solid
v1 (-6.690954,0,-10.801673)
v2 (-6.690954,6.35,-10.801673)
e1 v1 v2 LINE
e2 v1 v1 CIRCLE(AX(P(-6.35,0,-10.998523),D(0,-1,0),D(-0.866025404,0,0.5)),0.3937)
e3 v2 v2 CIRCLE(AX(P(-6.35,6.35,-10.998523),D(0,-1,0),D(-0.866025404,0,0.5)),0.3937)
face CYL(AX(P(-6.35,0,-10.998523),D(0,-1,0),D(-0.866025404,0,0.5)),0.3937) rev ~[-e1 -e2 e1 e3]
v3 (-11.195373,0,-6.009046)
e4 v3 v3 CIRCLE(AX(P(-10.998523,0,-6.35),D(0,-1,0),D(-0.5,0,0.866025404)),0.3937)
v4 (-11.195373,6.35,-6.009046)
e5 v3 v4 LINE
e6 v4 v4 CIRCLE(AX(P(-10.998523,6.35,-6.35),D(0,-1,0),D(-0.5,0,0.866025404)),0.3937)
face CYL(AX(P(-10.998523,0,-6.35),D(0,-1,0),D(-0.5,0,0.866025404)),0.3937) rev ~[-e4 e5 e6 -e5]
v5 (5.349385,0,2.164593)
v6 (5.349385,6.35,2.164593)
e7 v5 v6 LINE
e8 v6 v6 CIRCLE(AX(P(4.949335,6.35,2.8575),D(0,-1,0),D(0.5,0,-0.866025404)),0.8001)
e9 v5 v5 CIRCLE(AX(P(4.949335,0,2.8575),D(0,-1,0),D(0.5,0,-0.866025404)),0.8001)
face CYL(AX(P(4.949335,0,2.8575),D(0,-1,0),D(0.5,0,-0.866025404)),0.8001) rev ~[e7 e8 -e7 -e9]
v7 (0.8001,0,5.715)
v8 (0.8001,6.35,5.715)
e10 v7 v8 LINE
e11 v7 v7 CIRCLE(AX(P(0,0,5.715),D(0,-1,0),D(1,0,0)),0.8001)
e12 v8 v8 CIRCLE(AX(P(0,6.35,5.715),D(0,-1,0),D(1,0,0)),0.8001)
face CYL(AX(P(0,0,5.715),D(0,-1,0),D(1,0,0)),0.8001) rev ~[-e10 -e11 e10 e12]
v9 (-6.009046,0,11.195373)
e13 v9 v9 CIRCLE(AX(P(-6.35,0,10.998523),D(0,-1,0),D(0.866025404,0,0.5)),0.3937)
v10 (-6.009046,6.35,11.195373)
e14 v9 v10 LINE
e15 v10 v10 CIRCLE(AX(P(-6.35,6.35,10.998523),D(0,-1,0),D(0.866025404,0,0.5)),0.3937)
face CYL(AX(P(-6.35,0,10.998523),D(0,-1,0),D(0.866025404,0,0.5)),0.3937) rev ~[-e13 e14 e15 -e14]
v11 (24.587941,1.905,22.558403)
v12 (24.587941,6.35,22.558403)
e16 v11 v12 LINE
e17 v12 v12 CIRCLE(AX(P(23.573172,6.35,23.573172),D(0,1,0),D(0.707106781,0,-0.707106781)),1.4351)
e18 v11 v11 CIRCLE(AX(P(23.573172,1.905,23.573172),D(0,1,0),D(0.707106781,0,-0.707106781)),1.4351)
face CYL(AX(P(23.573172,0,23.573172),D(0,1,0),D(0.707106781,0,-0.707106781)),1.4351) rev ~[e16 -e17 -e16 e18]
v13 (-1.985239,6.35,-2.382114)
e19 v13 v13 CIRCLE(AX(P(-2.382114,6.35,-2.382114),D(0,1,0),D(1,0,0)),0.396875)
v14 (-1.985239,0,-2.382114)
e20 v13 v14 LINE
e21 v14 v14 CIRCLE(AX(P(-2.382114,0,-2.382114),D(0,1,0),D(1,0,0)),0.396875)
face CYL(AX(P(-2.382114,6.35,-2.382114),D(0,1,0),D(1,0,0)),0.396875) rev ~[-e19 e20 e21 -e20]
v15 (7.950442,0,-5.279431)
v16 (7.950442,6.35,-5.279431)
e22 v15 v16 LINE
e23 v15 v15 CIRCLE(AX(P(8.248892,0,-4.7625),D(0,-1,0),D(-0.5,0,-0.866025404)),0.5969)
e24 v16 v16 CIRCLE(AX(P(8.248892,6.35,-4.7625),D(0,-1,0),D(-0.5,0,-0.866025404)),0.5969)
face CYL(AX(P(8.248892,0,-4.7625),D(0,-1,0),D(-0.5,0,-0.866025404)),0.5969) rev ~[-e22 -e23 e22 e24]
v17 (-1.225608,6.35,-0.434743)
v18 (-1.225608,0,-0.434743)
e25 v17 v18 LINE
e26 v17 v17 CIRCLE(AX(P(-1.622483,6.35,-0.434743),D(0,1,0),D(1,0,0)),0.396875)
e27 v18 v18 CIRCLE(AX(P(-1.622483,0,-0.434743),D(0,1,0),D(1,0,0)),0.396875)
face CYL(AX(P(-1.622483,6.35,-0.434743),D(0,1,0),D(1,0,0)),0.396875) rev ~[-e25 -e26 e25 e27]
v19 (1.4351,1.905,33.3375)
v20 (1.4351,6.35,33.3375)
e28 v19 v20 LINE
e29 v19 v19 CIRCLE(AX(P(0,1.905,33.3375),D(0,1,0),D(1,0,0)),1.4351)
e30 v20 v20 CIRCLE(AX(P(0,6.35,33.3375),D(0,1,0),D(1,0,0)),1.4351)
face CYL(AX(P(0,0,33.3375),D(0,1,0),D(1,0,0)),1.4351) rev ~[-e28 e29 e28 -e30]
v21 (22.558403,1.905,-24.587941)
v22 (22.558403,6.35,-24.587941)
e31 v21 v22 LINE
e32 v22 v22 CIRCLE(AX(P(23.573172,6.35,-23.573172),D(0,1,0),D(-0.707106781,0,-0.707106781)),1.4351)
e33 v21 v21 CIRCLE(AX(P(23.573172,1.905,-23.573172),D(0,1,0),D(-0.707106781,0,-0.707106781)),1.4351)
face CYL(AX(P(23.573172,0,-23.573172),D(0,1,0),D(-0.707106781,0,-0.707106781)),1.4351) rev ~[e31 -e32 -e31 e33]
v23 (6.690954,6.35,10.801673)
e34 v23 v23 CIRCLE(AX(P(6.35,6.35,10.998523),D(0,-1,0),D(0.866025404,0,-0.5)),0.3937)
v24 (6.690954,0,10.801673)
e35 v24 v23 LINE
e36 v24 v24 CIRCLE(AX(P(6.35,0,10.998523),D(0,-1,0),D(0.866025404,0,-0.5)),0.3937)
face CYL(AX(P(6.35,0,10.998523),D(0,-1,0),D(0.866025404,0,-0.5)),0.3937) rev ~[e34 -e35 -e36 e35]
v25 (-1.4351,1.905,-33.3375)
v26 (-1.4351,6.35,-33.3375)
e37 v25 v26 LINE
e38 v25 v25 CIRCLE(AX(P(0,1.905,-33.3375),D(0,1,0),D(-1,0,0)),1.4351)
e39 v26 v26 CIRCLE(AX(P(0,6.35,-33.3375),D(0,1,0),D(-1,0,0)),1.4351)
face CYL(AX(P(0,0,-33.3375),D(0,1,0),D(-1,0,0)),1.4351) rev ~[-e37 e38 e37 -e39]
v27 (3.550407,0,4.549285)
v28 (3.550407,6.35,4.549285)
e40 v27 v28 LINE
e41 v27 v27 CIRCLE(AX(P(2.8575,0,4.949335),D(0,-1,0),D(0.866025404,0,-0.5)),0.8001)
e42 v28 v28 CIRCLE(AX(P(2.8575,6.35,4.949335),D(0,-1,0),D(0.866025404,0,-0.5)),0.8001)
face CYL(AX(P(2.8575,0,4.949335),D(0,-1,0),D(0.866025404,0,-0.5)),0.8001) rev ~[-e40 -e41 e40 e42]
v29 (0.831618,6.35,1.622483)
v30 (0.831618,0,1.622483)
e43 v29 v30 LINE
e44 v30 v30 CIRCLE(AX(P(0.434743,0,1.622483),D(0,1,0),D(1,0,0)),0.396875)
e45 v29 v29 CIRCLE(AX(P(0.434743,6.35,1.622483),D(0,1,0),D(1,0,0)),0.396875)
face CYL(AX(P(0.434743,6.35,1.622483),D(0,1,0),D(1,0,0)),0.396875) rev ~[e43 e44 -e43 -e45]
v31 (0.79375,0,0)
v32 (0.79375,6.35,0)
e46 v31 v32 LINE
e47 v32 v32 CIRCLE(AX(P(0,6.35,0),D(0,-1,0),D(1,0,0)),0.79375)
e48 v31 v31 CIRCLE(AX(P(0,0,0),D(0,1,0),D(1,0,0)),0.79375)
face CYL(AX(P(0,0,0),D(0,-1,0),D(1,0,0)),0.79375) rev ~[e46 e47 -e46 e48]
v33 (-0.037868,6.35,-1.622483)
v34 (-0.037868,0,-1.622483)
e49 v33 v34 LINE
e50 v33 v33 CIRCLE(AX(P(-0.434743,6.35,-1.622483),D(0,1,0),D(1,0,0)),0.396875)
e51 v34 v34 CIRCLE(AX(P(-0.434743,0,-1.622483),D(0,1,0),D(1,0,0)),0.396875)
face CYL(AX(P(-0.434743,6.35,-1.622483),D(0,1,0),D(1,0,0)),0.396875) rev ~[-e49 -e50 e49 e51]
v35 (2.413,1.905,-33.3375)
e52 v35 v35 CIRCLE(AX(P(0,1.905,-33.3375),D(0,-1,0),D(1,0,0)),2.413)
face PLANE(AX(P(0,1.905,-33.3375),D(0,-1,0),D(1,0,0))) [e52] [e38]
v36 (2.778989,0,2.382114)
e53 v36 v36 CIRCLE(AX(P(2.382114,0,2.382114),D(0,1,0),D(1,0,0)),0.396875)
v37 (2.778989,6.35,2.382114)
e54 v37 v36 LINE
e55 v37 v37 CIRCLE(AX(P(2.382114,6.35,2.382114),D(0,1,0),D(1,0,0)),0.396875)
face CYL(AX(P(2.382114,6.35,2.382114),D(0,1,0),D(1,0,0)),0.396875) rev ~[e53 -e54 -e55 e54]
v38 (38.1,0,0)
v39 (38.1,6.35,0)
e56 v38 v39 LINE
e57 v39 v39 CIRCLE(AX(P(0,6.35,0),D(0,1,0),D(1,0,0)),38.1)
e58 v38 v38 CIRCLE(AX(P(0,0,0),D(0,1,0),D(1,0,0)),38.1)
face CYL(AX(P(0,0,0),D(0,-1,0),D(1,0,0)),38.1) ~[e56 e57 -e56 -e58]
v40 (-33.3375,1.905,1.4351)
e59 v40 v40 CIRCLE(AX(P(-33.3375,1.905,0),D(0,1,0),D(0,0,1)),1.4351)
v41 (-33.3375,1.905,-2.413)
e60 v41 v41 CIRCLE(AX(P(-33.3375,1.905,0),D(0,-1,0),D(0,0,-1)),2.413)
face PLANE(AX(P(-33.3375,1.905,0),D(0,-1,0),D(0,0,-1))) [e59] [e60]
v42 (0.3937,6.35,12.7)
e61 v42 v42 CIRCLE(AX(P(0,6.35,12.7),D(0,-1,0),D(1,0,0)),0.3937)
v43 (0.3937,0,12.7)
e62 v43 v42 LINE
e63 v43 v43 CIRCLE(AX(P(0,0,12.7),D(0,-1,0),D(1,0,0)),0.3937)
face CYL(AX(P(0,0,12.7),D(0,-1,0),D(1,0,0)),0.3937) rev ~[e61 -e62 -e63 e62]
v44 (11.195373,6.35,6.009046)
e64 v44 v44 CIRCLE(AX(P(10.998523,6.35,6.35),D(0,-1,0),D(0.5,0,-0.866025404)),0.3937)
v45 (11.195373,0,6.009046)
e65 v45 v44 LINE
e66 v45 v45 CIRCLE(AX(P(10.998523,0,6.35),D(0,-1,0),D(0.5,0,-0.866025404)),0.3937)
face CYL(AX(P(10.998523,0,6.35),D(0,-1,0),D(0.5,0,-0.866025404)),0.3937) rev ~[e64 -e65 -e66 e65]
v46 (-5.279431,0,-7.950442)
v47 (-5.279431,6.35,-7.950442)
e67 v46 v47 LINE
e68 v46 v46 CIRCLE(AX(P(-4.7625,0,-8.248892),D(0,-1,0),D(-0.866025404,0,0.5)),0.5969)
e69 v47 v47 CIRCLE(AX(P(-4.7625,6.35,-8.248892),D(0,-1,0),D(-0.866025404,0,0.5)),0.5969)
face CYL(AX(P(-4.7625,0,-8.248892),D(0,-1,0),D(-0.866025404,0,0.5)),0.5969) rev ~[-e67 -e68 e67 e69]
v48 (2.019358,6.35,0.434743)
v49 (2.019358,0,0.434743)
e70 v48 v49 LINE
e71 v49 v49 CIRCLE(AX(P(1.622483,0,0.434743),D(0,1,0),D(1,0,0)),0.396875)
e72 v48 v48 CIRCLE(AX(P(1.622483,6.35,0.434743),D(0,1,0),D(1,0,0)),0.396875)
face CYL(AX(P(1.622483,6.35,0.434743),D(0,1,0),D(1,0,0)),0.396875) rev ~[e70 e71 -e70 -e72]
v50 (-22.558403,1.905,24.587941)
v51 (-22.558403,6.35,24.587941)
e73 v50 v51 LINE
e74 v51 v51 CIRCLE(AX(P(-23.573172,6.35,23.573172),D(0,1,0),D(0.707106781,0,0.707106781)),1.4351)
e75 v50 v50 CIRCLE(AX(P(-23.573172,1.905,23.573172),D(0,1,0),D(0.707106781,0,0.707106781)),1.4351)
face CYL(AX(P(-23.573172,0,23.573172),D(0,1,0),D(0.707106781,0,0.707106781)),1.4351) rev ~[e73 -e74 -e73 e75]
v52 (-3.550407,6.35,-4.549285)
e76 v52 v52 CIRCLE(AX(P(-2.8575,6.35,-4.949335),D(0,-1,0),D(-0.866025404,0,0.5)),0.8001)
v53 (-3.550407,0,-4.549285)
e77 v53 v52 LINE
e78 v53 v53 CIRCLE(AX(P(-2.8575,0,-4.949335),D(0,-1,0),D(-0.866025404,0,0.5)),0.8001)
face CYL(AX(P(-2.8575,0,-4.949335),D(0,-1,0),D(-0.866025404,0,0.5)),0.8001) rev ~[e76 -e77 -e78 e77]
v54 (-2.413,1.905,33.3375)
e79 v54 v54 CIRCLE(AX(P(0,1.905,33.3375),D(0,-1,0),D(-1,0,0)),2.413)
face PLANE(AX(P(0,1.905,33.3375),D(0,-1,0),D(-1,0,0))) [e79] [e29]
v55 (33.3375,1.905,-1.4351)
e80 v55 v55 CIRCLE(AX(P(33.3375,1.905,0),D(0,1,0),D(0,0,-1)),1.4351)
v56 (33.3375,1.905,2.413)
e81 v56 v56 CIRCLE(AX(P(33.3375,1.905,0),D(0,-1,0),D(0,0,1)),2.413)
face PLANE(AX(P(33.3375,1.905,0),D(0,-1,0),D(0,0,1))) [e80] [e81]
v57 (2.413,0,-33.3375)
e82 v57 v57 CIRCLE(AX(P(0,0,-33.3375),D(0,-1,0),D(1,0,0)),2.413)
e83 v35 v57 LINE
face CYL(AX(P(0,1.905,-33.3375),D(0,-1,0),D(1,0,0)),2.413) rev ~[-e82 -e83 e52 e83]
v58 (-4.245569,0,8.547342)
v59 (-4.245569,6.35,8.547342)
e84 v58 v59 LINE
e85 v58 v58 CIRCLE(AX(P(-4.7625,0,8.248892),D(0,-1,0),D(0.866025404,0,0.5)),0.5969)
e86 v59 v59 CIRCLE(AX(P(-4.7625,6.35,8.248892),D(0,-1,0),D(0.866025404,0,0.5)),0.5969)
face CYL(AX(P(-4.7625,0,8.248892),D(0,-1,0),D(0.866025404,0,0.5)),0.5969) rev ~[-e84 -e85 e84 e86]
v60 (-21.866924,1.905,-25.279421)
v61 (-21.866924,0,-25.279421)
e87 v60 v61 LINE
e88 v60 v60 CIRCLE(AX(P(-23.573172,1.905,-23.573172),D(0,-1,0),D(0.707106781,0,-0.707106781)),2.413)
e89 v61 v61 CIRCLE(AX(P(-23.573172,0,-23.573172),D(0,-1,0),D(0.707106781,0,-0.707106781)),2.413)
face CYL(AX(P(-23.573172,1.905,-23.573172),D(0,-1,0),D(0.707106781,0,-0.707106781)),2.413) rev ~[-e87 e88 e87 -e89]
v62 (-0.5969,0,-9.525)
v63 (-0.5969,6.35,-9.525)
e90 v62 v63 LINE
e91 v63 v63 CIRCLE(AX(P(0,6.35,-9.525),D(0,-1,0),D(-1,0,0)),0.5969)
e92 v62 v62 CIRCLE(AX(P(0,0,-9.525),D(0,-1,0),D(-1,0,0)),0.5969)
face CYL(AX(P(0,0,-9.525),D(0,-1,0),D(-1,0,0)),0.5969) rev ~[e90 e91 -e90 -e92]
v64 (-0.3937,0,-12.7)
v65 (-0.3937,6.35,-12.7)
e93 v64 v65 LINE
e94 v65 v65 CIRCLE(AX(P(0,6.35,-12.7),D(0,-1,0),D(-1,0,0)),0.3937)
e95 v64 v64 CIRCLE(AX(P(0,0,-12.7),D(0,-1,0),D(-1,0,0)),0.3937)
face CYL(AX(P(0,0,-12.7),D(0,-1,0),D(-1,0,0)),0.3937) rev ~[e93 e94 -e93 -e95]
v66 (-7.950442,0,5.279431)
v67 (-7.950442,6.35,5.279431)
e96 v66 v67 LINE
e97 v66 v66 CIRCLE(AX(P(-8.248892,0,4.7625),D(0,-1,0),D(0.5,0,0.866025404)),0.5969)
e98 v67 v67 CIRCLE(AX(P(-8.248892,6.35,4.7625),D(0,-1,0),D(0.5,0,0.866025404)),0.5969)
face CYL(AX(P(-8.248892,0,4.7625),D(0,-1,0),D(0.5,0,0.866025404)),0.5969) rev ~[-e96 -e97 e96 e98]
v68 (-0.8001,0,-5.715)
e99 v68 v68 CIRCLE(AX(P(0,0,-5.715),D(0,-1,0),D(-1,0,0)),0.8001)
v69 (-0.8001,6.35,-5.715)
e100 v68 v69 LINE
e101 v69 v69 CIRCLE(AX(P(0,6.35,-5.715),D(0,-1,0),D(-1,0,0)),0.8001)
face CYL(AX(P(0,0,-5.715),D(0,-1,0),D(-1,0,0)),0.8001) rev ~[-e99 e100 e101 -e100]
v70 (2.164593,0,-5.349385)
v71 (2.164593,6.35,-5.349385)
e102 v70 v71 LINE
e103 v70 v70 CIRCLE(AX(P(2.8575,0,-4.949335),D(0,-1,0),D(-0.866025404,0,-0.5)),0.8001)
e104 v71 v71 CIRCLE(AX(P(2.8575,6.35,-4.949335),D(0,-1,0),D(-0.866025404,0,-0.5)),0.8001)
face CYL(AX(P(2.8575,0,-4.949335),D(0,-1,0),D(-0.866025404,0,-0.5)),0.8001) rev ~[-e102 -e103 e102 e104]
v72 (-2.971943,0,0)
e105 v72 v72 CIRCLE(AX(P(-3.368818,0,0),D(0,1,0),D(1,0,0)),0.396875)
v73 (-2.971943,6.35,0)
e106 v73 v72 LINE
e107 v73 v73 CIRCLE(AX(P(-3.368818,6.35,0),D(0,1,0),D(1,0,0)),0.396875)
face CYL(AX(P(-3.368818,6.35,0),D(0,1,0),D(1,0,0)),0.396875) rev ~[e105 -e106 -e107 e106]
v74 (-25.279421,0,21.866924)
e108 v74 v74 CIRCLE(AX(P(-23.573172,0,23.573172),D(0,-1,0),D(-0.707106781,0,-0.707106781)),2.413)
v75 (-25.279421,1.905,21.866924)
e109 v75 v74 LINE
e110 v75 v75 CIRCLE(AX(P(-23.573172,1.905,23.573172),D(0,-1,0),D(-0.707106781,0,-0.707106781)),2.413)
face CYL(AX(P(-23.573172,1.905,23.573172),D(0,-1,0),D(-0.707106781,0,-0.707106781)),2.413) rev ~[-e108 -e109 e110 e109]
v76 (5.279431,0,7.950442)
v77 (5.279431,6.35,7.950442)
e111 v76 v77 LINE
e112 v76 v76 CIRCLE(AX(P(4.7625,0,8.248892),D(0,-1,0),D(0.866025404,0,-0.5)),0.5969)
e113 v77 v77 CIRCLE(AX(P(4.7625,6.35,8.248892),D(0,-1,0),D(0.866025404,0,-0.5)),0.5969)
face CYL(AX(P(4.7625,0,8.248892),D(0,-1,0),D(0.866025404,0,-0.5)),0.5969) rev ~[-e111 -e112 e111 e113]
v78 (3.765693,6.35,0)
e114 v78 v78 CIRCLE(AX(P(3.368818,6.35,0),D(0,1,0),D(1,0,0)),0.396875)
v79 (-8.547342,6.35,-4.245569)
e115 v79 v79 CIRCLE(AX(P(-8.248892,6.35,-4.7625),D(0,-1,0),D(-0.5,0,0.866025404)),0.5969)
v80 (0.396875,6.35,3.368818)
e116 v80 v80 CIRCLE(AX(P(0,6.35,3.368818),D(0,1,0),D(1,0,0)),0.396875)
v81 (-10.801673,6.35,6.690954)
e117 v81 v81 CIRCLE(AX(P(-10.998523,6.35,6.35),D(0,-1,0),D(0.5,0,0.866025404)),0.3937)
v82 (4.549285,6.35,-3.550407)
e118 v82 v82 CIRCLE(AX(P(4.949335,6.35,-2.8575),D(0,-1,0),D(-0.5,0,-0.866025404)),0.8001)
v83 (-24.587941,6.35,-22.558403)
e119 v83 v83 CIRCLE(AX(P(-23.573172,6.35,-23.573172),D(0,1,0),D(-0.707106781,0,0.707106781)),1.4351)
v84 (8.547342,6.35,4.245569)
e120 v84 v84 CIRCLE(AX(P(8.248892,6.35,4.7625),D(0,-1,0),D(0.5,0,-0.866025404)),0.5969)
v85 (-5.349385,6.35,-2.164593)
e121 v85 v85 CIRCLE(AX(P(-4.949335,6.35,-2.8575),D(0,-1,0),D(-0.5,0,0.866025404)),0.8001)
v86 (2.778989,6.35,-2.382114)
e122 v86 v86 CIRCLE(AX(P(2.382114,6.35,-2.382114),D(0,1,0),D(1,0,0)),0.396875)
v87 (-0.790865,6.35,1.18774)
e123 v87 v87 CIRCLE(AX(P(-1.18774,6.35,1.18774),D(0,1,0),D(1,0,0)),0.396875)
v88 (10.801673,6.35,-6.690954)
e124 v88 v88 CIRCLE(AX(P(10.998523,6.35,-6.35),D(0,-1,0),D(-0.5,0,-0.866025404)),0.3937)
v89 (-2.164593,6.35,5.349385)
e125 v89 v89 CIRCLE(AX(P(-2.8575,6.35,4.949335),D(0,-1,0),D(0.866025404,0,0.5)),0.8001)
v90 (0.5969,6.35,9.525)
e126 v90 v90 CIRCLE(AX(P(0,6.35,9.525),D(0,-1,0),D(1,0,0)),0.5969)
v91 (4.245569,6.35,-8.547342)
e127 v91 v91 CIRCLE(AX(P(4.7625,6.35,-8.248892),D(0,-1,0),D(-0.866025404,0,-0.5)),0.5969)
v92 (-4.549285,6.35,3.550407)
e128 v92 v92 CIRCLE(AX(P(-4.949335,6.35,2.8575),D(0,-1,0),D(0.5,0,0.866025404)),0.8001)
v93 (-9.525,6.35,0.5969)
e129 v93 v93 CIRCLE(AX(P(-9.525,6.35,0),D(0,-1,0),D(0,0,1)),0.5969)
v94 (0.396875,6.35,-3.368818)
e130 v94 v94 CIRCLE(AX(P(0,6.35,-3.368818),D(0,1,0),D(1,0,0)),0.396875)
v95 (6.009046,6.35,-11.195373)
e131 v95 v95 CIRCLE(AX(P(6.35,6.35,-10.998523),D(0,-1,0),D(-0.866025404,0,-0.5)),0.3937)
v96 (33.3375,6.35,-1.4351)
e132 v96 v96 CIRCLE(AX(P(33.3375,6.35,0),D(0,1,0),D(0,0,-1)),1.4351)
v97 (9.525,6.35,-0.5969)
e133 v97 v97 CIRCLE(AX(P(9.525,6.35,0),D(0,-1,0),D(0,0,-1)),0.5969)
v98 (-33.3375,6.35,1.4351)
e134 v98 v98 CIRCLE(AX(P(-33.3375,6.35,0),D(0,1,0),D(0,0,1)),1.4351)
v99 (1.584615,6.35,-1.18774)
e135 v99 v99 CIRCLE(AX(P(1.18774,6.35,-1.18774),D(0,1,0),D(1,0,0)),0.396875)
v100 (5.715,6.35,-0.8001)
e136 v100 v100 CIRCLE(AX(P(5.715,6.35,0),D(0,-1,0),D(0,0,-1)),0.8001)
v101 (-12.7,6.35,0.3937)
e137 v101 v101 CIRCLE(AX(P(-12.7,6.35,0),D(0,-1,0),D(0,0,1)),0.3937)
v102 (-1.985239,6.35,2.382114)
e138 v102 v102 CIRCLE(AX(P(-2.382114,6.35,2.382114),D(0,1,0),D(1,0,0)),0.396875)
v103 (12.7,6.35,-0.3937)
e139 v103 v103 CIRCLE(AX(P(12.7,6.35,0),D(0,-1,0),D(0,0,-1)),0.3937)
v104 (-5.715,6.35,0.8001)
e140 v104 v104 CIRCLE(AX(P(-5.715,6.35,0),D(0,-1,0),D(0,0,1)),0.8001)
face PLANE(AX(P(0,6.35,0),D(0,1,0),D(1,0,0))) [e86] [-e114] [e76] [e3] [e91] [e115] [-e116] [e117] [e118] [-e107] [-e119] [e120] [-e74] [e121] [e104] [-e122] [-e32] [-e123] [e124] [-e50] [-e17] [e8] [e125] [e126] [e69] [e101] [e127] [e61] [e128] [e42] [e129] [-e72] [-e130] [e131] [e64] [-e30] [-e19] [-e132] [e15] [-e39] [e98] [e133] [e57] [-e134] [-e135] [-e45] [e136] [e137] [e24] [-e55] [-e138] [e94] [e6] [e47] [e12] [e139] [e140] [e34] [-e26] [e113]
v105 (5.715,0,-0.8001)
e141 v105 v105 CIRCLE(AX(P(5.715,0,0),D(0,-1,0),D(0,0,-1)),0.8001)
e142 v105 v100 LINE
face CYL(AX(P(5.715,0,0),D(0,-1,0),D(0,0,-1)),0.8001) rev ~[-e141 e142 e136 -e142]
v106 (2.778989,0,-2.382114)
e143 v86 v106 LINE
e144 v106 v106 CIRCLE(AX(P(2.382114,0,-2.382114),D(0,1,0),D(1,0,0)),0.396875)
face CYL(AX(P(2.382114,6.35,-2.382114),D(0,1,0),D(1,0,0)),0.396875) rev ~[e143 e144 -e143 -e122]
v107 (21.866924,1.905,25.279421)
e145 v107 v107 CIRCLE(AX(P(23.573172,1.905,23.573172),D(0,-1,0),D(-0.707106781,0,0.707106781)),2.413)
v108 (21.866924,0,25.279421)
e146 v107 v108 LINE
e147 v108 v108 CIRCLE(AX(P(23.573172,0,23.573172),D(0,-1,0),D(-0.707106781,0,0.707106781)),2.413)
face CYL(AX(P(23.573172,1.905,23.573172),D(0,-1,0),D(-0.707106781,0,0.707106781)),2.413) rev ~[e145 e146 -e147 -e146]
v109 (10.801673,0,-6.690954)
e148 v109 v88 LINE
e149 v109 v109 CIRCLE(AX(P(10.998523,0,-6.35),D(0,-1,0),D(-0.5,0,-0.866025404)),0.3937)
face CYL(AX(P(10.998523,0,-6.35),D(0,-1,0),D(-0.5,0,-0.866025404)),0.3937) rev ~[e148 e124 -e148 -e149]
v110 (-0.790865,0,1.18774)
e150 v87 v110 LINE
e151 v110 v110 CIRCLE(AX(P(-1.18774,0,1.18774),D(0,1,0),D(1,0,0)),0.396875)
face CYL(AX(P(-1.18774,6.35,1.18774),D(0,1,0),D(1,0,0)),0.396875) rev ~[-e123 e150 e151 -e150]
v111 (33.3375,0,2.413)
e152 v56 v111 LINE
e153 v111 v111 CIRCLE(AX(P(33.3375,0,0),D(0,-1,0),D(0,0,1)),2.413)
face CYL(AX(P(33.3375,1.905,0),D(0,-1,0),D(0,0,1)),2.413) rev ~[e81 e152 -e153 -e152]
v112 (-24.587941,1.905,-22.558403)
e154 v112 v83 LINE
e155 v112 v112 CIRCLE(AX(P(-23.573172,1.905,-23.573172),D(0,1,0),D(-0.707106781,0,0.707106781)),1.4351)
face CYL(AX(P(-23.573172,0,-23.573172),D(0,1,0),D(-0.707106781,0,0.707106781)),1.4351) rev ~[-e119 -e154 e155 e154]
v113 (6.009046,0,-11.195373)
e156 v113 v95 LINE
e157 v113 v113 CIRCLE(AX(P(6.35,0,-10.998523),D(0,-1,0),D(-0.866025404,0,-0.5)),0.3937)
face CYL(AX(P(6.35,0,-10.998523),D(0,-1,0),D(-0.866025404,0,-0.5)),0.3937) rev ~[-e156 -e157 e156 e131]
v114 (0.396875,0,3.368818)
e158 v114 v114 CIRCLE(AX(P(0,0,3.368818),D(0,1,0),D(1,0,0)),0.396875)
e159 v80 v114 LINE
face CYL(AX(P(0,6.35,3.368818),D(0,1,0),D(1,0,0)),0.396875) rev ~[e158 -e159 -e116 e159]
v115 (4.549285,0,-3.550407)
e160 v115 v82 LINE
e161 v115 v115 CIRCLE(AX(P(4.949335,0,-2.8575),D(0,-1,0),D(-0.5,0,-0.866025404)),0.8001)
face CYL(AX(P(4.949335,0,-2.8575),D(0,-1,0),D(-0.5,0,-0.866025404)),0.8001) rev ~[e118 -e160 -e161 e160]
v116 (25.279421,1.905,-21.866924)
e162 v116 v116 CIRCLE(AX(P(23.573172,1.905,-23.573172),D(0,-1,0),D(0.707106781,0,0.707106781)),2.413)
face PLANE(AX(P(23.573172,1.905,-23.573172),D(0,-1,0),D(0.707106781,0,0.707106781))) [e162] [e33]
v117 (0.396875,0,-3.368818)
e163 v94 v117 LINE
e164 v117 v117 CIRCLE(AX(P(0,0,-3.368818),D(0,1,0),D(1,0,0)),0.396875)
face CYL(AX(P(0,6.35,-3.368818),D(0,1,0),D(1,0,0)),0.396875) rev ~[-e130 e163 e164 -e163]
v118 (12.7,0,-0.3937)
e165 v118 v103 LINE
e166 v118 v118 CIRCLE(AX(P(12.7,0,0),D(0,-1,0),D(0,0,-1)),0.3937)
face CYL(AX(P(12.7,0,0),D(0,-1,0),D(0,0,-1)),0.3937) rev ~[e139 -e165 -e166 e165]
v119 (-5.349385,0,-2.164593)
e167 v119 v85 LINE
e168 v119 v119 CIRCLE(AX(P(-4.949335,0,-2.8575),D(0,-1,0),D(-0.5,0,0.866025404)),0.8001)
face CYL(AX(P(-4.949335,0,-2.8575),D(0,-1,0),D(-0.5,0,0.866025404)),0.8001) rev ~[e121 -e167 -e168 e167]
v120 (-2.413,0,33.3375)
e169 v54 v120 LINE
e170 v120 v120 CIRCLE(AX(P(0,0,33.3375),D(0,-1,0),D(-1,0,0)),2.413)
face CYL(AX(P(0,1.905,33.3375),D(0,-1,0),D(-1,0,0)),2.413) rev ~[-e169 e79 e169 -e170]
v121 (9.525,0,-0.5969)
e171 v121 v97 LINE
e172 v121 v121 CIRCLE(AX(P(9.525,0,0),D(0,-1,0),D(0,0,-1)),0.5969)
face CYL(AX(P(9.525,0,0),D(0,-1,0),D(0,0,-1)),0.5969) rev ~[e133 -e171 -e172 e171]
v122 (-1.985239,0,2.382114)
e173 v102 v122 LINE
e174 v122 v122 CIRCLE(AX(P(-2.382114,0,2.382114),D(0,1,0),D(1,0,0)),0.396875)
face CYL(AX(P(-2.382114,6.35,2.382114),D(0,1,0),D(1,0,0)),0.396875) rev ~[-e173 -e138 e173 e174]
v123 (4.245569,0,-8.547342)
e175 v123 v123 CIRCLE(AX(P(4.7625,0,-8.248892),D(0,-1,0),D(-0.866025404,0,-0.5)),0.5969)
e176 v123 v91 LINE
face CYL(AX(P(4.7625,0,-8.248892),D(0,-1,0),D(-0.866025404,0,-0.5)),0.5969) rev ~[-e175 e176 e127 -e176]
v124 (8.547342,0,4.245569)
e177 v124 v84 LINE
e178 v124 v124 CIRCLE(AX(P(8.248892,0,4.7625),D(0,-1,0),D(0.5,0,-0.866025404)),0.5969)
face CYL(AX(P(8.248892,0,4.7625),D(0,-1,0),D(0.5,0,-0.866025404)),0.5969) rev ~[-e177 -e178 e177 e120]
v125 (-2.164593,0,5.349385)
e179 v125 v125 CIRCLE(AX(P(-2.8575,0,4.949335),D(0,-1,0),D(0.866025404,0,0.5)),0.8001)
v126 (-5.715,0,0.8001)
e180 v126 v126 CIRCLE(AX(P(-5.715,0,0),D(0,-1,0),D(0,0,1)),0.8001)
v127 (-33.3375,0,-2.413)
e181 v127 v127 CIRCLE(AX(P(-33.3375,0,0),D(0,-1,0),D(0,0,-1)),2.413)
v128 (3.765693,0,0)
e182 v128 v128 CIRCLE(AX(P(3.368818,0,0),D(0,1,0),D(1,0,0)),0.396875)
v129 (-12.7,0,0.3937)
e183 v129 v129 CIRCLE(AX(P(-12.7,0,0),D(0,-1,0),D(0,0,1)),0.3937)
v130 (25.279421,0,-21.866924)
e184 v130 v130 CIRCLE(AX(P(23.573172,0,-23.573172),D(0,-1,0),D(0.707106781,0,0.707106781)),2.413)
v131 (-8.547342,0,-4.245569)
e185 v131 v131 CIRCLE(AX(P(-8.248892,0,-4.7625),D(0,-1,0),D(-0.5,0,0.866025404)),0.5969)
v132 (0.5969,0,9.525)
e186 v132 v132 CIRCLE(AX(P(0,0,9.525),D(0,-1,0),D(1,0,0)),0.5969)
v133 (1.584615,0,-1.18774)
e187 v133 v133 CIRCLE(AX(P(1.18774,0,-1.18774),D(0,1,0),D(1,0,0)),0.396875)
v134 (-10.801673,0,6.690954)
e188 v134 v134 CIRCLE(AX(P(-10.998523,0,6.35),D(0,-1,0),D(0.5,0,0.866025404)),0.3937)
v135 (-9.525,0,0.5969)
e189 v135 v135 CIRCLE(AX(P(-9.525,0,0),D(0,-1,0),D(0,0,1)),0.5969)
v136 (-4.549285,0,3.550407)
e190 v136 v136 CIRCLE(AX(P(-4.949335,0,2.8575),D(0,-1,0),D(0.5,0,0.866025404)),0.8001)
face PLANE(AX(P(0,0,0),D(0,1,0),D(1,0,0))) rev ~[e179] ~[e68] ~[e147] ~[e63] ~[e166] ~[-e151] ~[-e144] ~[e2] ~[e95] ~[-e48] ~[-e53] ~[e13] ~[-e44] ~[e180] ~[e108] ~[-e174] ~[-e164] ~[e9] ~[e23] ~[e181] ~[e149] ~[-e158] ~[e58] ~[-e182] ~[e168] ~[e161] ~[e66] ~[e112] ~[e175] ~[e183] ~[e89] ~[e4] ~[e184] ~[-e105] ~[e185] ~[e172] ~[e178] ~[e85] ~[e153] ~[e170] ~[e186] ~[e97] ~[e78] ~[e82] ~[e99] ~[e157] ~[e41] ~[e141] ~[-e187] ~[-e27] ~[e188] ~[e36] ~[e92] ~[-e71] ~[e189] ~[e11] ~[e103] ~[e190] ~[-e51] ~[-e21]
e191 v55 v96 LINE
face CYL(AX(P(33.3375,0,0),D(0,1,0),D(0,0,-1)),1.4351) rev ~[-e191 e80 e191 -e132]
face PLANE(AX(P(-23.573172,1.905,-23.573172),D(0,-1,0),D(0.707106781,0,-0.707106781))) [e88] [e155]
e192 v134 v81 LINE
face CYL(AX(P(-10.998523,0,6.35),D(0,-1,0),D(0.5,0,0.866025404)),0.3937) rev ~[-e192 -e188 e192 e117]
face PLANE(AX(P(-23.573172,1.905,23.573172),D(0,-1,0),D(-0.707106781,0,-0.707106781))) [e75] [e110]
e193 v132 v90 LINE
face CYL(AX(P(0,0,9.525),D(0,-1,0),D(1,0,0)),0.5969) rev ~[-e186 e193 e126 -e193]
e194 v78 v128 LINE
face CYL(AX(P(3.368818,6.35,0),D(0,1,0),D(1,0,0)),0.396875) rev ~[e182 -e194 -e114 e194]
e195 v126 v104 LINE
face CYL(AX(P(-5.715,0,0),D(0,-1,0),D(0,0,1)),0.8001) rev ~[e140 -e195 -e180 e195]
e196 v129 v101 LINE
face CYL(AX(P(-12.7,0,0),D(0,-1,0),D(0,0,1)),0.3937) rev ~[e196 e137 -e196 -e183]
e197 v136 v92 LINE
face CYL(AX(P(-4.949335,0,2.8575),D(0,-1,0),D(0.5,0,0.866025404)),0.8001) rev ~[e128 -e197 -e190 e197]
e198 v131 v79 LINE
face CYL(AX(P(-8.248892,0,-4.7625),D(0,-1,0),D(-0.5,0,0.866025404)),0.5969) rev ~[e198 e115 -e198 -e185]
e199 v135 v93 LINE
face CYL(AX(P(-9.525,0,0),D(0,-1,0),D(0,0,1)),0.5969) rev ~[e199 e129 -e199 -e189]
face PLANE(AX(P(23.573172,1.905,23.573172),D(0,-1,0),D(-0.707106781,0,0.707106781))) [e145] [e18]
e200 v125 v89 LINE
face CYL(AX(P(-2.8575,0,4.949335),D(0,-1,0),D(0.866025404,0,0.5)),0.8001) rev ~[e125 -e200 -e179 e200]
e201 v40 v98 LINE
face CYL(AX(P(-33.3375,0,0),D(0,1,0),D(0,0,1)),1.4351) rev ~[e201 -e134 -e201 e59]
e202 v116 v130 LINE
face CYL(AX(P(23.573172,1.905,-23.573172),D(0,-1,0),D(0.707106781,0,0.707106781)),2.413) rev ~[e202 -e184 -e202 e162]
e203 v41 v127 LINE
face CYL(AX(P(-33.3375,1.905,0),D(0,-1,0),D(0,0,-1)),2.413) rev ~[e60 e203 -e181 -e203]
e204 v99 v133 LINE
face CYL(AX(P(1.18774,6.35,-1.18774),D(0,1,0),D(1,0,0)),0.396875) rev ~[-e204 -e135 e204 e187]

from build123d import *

# Parameters (mm, degrees)
SKETCH1_R                                      = 38.1
BOSS_EXTRUDE1_DEPTH                            = 6.35
CBORE_FOR_4_BUTTON_HEAD_CAP_SCREW1_D           = 2.8702
CBORE_FOR_4_BUTTON_HEAD_CAP_SCREW1_CBORE_D     = 4.826
CBORE_FOR_4_BUTTON_HEAD_CAP_SCREW1_CBORE_DEPTH = 1.905
CIRPATTERN1_COUNT                              = 8
SKETCH7_R                                      = 0.3937
SKETCH7_R_2                                    = 0.5969
SKETCH7_R_3                                    = 0.8001
SKETCH7_R_4                                    = 0.79375
CUT_EXTRUDE1_DEPTH                             = 7.35
CIRPATTERN3_COUNT                              = 12
CUT_EXTRUDE3_REACH                             = 8.35
SKETCH8_R                                      = 0.396875
CUT_EXTRUDE4_REACH                             = 8.35
SKETCH9_R                                      = 0.396875


with BuildPart() as part:
    # Sketch1 → Boss-Extrude1 (new body)
    with BuildSketch(Plane(origin=(0, 0, 0), x_dir=(1, 0, 0), z_dir=(0, 1, 0))):
        Circle(SKETCH1_R)
    extrude(amount=BOSS_EXTRUDE1_DEPTH)

    # CBORE for #4 Button Head Cap Screw1 (through all)
    with Locations(Plane(origin=(0, 0, 0), x_dir=(-1, 0, 0), z_dir=(0, -1, 0))):
        with Locations((0, -33.3375)):
            cbore_for_4_button_head_cap_screw1 = CounterBoreHole(CBORE_FOR_4_BUTTON_HEAD_CAP_SCREW1_D / 2, CBORE_FOR_4_BUTTON_HEAD_CAP_SCREW1_CBORE_D / 2, CBORE_FOR_4_BUTTON_HEAD_CAP_SCREW1_CBORE_DEPTH)

    # CirPattern1: CBORE for #4 Button Head Cap Screw1 ×8 about axis
    cirpattern1_axis = Axis((0, 0, 0), (0, 1, 0))
    for i in range(1, CIRPATTERN1_COUNT):
        add(cbore_for_4_button_head_cap_screw1.rotate(cirpattern1_axis, i * 360 / CIRPATTERN1_COUNT), mode=Mode.SUBTRACT)

    # Sketch7 → Cut-Extrude1 (cut, through all)
    with BuildSketch(Plane.XZ):
        with Locations((0, 12.7)):
            Circle(SKETCH7_R)
        with Locations((0, 9.525)):
            Circle(SKETCH7_R_2)
        with Locations((0, 5.715)):
            Circle(SKETCH7_R_3)
        Circle(SKETCH7_R_4)
    cut_extrude1 = extrude(amount=-CUT_EXTRUDE1_DEPTH, mode=Mode.SUBTRACT)

    # CirPattern3: Cut-Extrude1 ×12 about axis
    cirpattern3_axis = Axis((0, 0, 0), (0, 1, 0))
    for i in range(1, CIRPATTERN3_COUNT):
        add(cut_extrude1.rotate(cirpattern3_axis, i * 360 / CIRPATTERN3_COUNT), mode=Mode.SUBTRACT)

    # Sketch8 → Cut-Extrude3 (cut, up to next)
    with BuildSketch(Plane(origin=(0, 6.35, 0), x_dir=(1, 0, 0), z_dir=(0, 1, 0)), mode=Mode.PRIVATE) as cut_extrude3_sk1:
        with Locations((3.368817958, 0)):
            Circle(SKETCH8_R)
    cut_extrude3_tool1 = extrude(cut_extrude3_sk1.sketch, amount=-CUT_EXTRUDE3_REACH, mode=Mode.PRIVATE) & part.part
    add(cut_extrude3_tool1.solids().sort_by_distance((3.368818, 6.35, 0))[0], mode=Mode.SUBTRACT)
    # Sketch8 → Cut-Extrude3 (cut, up to next)
    with BuildSketch(Plane(origin=(0, 6.35, 0), x_dir=(1, 0, 0), z_dir=(0, 1, 0)), mode=Mode.PRIVATE) as cut_extrude3_sk2:
        with Locations((2.382114023, -2.382114023)):
            Circle(SKETCH8_R)
    cut_extrude3_tool2 = extrude(cut_extrude3_sk2.sketch, amount=-CUT_EXTRUDE3_REACH, mode=Mode.PRIVATE) & part.part
    add(cut_extrude3_tool2.solids().sort_by_distance((2.382114, 6.35, 2.382114))[0], mode=Mode.SUBTRACT)
    # Sketch8 → Cut-Extrude3 (cut, up to next)
    with BuildSketch(Plane(origin=(0, 6.35, 0), x_dir=(1, 0, 0), z_dir=(0, 1, 0)), mode=Mode.PRIVATE) as cut_extrude3_sk3:
        with Locations((0, -3.368817958)):
            Circle(SKETCH8_R)
    cut_extrude3_tool3 = extrude(cut_extrude3_sk3.sketch, amount=-CUT_EXTRUDE3_REACH, mode=Mode.PRIVATE) & part.part
    add(cut_extrude3_tool3.solids().sort_by_distance((0, 6.35, 3.368818))[0], mode=Mode.SUBTRACT)
    # Sketch8 → Cut-Extrude3 (cut, up to next)
    with BuildSketch(Plane(origin=(0, 6.35, 0), x_dir=(1, 0, 0), z_dir=(0, 1, 0)), mode=Mode.PRIVATE) as cut_extrude3_sk4:
        with Locations((-2.382114023, -2.382114023)):
            Circle(SKETCH8_R)
    cut_extrude3_tool4 = extrude(cut_extrude3_sk4.sketch, amount=-CUT_EXTRUDE3_REACH, mode=Mode.PRIVATE) & part.part
    add(cut_extrude3_tool4.solids().sort_by_distance((-2.382114, 6.35, 2.382114))[0], mode=Mode.SUBTRACT)
    # Sketch8 → Cut-Extrude3 (cut, up to next)
    with BuildSketch(Plane(origin=(0, 6.35, 0), x_dir=(1, 0, 0), z_dir=(0, 1, 0)), mode=Mode.PRIVATE) as cut_extrude3_sk5:
        with Locations((-3.368817958, 0)):
            Circle(SKETCH8_R)
    cut_extrude3_tool5 = extrude(cut_extrude3_sk5.sketch, amount=-CUT_EXTRUDE3_REACH, mode=Mode.PRIVATE) & part.part
    add(cut_extrude3_tool5.solids().sort_by_distance((-3.368818, 6.35, 0))[0], mode=Mode.SUBTRACT)
    # Sketch8 → Cut-Extrude3 (cut, up to next)
    with BuildSketch(Plane(origin=(0, 6.35, 0), x_dir=(1, 0, 0), z_dir=(0, 1, 0)), mode=Mode.PRIVATE) as cut_extrude3_sk6:
        with Locations((-2.382114023, 2.382114023)):
            Circle(SKETCH8_R)
    cut_extrude3_tool6 = extrude(cut_extrude3_sk6.sketch, amount=-CUT_EXTRUDE3_REACH, mode=Mode.PRIVATE) & part.part
    add(cut_extrude3_tool6.solids().sort_by_distance((-2.382114, 6.35, -2.382114))[0], mode=Mode.SUBTRACT)
    # Sketch8 → Cut-Extrude3 (cut, up to next)
    with BuildSketch(Plane(origin=(0, 6.35, 0), x_dir=(1, 0, 0), z_dir=(0, 1, 0)), mode=Mode.PRIVATE) as cut_extrude3_sk7:
        with Locations((0, 3.368817958)):
            Circle(SKETCH8_R)
    cut_extrude3_tool7 = extrude(cut_extrude3_sk7.sketch, amount=-CUT_EXTRUDE3_REACH, mode=Mode.PRIVATE) & part.part
    add(cut_extrude3_tool7.solids().sort_by_distance((0, 6.35, -3.368818))[0], mode=Mode.SUBTRACT)
    # Sketch8 → Cut-Extrude3 (cut, up to next)
    with BuildSketch(Plane(origin=(0, 6.35, 0), x_dir=(1, 0, 0), z_dir=(0, 1, 0)), mode=Mode.PRIVATE) as cut_extrude3_sk8:
        with Locations((2.382114023, 2.382114023)):
            Circle(SKETCH8_R)
    cut_extrude3_tool8 = extrude(cut_extrude3_sk8.sketch, amount=-CUT_EXTRUDE3_REACH, mode=Mode.PRIVATE) & part.part
    add(cut_extrude3_tool8.solids().sort_by_distance((2.382114, 6.35, -2.382114))[0], mode=Mode.SUBTRACT)

    # Sketch9 → Cut-Extrude4 (cut, up to next)
    with BuildSketch(Plane(origin=(0, 6.35, 0), x_dir=(1, 0, 0), z_dir=(0, 1, 0)), mode=Mode.PRIVATE) as cut_extrude4_sk1:
        with Locations((1.187739958, 1.187739958)):
            Circle(SKETCH9_R)
    cut_extrude4_tool1 = extrude(cut_extrude4_sk1.sketch, amount=-CUT_EXTRUDE4_REACH, mode=Mode.PRIVATE) & part.part
    add(cut_extrude4_tool1.solids().sort_by_distance((1.18774, 6.35, -1.18774))[0], mode=Mode.SUBTRACT)
    # Sketch9 → Cut-Extrude4 (cut, up to next)
    with BuildSketch(Plane(origin=(0, 6.35, 0), x_dir=(1, 0, 0), z_dir=(0, 1, 0)), mode=Mode.PRIVATE) as cut_extrude4_sk2:
        with Locations((1.622482956, -0.434742998)):
            Circle(SKETCH9_R)
    cut_extrude4_tool2 = extrude(cut_extrude4_sk2.sketch, amount=-CUT_EXTRUDE4_REACH, mode=Mode.PRIVATE) & part.part
    add(cut_extrude4_tool2.solids().sort_by_distance((1.622483, 6.35, 0.434743))[0], mode=Mode.SUBTRACT)
    # Sketch9 → Cut-Extrude4 (cut, up to next)
    with BuildSketch(Plane(origin=(0, 6.35, 0), x_dir=(1, 0, 0), z_dir=(0, 1, 0)), mode=Mode.PRIVATE) as cut_extrude4_sk3:
        with Locations((0.434742998, -1.622482956)):
            Circle(SKETCH9_R)
    cut_extrude4_tool3 = extrude(cut_extrude4_sk3.sketch, amount=-CUT_EXTRUDE4_REACH, mode=Mode.PRIVATE) & part.part
    add(cut_extrude4_tool3.solids().sort_by_distance((0.434743, 6.35, 1.622483))[0], mode=Mode.SUBTRACT)
    # Sketch9 → Cut-Extrude4 (cut, up to next)
    with BuildSketch(Plane(origin=(0, 6.35, 0), x_dir=(1, 0, 0), z_dir=(0, 1, 0)), mode=Mode.PRIVATE) as cut_extrude4_sk4:
        with Locations((-1.187739958, -1.187739958)):
            Circle(SKETCH9_R)
    cut_extrude4_tool4 = extrude(cut_extrude4_sk4.sketch, amount=-CUT_EXTRUDE4_REACH, mode=Mode.PRIVATE) & part.part
    add(cut_extrude4_tool4.solids().sort_by_distance((-1.18774, 6.35, 1.18774))[0], mode=Mode.SUBTRACT)
    # Sketch9 → Cut-Extrude4 (cut, up to next)
    with BuildSketch(Plane(origin=(0, 6.35, 0), x_dir=(1, 0, 0), z_dir=(0, 1, 0)), mode=Mode.PRIVATE) as cut_extrude4_sk5:
        with Locations((-1.622482956, 0.434742998)):
            Circle(SKETCH9_R)
    cut_extrude4_tool5 = extrude(cut_extrude4_sk5.sketch, amount=-CUT_EXTRUDE4_REACH, mode=Mode.PRIVATE) & part.part
    add(cut_extrude4_tool5.solids().sort_by_distance((-1.622483, 6.35, -0.434743))[0], mode=Mode.SUBTRACT)
    # Sketch9 → Cut-Extrude4 (cut, up to next)
    with BuildSketch(Plane(origin=(0, 6.35, 0), x_dir=(1, 0, 0), z_dir=(0, 1, 0)), mode=Mode.PRIVATE) as cut_extrude4_sk6:
        with Locations((-0.434742998, 1.622482956)):
            Circle(SKETCH9_R)
    cut_extrude4_tool6 = extrude(cut_extrude4_sk6.sketch, amount=-CUT_EXTRUDE4_REACH, mode=Mode.PRIVATE) & part.part
    add(cut_extrude4_tool6.solids().sort_by_distance((-0.434743, 6.35, -1.622483))[0], mode=Mode.SUBTRACT)


solid = part.part
